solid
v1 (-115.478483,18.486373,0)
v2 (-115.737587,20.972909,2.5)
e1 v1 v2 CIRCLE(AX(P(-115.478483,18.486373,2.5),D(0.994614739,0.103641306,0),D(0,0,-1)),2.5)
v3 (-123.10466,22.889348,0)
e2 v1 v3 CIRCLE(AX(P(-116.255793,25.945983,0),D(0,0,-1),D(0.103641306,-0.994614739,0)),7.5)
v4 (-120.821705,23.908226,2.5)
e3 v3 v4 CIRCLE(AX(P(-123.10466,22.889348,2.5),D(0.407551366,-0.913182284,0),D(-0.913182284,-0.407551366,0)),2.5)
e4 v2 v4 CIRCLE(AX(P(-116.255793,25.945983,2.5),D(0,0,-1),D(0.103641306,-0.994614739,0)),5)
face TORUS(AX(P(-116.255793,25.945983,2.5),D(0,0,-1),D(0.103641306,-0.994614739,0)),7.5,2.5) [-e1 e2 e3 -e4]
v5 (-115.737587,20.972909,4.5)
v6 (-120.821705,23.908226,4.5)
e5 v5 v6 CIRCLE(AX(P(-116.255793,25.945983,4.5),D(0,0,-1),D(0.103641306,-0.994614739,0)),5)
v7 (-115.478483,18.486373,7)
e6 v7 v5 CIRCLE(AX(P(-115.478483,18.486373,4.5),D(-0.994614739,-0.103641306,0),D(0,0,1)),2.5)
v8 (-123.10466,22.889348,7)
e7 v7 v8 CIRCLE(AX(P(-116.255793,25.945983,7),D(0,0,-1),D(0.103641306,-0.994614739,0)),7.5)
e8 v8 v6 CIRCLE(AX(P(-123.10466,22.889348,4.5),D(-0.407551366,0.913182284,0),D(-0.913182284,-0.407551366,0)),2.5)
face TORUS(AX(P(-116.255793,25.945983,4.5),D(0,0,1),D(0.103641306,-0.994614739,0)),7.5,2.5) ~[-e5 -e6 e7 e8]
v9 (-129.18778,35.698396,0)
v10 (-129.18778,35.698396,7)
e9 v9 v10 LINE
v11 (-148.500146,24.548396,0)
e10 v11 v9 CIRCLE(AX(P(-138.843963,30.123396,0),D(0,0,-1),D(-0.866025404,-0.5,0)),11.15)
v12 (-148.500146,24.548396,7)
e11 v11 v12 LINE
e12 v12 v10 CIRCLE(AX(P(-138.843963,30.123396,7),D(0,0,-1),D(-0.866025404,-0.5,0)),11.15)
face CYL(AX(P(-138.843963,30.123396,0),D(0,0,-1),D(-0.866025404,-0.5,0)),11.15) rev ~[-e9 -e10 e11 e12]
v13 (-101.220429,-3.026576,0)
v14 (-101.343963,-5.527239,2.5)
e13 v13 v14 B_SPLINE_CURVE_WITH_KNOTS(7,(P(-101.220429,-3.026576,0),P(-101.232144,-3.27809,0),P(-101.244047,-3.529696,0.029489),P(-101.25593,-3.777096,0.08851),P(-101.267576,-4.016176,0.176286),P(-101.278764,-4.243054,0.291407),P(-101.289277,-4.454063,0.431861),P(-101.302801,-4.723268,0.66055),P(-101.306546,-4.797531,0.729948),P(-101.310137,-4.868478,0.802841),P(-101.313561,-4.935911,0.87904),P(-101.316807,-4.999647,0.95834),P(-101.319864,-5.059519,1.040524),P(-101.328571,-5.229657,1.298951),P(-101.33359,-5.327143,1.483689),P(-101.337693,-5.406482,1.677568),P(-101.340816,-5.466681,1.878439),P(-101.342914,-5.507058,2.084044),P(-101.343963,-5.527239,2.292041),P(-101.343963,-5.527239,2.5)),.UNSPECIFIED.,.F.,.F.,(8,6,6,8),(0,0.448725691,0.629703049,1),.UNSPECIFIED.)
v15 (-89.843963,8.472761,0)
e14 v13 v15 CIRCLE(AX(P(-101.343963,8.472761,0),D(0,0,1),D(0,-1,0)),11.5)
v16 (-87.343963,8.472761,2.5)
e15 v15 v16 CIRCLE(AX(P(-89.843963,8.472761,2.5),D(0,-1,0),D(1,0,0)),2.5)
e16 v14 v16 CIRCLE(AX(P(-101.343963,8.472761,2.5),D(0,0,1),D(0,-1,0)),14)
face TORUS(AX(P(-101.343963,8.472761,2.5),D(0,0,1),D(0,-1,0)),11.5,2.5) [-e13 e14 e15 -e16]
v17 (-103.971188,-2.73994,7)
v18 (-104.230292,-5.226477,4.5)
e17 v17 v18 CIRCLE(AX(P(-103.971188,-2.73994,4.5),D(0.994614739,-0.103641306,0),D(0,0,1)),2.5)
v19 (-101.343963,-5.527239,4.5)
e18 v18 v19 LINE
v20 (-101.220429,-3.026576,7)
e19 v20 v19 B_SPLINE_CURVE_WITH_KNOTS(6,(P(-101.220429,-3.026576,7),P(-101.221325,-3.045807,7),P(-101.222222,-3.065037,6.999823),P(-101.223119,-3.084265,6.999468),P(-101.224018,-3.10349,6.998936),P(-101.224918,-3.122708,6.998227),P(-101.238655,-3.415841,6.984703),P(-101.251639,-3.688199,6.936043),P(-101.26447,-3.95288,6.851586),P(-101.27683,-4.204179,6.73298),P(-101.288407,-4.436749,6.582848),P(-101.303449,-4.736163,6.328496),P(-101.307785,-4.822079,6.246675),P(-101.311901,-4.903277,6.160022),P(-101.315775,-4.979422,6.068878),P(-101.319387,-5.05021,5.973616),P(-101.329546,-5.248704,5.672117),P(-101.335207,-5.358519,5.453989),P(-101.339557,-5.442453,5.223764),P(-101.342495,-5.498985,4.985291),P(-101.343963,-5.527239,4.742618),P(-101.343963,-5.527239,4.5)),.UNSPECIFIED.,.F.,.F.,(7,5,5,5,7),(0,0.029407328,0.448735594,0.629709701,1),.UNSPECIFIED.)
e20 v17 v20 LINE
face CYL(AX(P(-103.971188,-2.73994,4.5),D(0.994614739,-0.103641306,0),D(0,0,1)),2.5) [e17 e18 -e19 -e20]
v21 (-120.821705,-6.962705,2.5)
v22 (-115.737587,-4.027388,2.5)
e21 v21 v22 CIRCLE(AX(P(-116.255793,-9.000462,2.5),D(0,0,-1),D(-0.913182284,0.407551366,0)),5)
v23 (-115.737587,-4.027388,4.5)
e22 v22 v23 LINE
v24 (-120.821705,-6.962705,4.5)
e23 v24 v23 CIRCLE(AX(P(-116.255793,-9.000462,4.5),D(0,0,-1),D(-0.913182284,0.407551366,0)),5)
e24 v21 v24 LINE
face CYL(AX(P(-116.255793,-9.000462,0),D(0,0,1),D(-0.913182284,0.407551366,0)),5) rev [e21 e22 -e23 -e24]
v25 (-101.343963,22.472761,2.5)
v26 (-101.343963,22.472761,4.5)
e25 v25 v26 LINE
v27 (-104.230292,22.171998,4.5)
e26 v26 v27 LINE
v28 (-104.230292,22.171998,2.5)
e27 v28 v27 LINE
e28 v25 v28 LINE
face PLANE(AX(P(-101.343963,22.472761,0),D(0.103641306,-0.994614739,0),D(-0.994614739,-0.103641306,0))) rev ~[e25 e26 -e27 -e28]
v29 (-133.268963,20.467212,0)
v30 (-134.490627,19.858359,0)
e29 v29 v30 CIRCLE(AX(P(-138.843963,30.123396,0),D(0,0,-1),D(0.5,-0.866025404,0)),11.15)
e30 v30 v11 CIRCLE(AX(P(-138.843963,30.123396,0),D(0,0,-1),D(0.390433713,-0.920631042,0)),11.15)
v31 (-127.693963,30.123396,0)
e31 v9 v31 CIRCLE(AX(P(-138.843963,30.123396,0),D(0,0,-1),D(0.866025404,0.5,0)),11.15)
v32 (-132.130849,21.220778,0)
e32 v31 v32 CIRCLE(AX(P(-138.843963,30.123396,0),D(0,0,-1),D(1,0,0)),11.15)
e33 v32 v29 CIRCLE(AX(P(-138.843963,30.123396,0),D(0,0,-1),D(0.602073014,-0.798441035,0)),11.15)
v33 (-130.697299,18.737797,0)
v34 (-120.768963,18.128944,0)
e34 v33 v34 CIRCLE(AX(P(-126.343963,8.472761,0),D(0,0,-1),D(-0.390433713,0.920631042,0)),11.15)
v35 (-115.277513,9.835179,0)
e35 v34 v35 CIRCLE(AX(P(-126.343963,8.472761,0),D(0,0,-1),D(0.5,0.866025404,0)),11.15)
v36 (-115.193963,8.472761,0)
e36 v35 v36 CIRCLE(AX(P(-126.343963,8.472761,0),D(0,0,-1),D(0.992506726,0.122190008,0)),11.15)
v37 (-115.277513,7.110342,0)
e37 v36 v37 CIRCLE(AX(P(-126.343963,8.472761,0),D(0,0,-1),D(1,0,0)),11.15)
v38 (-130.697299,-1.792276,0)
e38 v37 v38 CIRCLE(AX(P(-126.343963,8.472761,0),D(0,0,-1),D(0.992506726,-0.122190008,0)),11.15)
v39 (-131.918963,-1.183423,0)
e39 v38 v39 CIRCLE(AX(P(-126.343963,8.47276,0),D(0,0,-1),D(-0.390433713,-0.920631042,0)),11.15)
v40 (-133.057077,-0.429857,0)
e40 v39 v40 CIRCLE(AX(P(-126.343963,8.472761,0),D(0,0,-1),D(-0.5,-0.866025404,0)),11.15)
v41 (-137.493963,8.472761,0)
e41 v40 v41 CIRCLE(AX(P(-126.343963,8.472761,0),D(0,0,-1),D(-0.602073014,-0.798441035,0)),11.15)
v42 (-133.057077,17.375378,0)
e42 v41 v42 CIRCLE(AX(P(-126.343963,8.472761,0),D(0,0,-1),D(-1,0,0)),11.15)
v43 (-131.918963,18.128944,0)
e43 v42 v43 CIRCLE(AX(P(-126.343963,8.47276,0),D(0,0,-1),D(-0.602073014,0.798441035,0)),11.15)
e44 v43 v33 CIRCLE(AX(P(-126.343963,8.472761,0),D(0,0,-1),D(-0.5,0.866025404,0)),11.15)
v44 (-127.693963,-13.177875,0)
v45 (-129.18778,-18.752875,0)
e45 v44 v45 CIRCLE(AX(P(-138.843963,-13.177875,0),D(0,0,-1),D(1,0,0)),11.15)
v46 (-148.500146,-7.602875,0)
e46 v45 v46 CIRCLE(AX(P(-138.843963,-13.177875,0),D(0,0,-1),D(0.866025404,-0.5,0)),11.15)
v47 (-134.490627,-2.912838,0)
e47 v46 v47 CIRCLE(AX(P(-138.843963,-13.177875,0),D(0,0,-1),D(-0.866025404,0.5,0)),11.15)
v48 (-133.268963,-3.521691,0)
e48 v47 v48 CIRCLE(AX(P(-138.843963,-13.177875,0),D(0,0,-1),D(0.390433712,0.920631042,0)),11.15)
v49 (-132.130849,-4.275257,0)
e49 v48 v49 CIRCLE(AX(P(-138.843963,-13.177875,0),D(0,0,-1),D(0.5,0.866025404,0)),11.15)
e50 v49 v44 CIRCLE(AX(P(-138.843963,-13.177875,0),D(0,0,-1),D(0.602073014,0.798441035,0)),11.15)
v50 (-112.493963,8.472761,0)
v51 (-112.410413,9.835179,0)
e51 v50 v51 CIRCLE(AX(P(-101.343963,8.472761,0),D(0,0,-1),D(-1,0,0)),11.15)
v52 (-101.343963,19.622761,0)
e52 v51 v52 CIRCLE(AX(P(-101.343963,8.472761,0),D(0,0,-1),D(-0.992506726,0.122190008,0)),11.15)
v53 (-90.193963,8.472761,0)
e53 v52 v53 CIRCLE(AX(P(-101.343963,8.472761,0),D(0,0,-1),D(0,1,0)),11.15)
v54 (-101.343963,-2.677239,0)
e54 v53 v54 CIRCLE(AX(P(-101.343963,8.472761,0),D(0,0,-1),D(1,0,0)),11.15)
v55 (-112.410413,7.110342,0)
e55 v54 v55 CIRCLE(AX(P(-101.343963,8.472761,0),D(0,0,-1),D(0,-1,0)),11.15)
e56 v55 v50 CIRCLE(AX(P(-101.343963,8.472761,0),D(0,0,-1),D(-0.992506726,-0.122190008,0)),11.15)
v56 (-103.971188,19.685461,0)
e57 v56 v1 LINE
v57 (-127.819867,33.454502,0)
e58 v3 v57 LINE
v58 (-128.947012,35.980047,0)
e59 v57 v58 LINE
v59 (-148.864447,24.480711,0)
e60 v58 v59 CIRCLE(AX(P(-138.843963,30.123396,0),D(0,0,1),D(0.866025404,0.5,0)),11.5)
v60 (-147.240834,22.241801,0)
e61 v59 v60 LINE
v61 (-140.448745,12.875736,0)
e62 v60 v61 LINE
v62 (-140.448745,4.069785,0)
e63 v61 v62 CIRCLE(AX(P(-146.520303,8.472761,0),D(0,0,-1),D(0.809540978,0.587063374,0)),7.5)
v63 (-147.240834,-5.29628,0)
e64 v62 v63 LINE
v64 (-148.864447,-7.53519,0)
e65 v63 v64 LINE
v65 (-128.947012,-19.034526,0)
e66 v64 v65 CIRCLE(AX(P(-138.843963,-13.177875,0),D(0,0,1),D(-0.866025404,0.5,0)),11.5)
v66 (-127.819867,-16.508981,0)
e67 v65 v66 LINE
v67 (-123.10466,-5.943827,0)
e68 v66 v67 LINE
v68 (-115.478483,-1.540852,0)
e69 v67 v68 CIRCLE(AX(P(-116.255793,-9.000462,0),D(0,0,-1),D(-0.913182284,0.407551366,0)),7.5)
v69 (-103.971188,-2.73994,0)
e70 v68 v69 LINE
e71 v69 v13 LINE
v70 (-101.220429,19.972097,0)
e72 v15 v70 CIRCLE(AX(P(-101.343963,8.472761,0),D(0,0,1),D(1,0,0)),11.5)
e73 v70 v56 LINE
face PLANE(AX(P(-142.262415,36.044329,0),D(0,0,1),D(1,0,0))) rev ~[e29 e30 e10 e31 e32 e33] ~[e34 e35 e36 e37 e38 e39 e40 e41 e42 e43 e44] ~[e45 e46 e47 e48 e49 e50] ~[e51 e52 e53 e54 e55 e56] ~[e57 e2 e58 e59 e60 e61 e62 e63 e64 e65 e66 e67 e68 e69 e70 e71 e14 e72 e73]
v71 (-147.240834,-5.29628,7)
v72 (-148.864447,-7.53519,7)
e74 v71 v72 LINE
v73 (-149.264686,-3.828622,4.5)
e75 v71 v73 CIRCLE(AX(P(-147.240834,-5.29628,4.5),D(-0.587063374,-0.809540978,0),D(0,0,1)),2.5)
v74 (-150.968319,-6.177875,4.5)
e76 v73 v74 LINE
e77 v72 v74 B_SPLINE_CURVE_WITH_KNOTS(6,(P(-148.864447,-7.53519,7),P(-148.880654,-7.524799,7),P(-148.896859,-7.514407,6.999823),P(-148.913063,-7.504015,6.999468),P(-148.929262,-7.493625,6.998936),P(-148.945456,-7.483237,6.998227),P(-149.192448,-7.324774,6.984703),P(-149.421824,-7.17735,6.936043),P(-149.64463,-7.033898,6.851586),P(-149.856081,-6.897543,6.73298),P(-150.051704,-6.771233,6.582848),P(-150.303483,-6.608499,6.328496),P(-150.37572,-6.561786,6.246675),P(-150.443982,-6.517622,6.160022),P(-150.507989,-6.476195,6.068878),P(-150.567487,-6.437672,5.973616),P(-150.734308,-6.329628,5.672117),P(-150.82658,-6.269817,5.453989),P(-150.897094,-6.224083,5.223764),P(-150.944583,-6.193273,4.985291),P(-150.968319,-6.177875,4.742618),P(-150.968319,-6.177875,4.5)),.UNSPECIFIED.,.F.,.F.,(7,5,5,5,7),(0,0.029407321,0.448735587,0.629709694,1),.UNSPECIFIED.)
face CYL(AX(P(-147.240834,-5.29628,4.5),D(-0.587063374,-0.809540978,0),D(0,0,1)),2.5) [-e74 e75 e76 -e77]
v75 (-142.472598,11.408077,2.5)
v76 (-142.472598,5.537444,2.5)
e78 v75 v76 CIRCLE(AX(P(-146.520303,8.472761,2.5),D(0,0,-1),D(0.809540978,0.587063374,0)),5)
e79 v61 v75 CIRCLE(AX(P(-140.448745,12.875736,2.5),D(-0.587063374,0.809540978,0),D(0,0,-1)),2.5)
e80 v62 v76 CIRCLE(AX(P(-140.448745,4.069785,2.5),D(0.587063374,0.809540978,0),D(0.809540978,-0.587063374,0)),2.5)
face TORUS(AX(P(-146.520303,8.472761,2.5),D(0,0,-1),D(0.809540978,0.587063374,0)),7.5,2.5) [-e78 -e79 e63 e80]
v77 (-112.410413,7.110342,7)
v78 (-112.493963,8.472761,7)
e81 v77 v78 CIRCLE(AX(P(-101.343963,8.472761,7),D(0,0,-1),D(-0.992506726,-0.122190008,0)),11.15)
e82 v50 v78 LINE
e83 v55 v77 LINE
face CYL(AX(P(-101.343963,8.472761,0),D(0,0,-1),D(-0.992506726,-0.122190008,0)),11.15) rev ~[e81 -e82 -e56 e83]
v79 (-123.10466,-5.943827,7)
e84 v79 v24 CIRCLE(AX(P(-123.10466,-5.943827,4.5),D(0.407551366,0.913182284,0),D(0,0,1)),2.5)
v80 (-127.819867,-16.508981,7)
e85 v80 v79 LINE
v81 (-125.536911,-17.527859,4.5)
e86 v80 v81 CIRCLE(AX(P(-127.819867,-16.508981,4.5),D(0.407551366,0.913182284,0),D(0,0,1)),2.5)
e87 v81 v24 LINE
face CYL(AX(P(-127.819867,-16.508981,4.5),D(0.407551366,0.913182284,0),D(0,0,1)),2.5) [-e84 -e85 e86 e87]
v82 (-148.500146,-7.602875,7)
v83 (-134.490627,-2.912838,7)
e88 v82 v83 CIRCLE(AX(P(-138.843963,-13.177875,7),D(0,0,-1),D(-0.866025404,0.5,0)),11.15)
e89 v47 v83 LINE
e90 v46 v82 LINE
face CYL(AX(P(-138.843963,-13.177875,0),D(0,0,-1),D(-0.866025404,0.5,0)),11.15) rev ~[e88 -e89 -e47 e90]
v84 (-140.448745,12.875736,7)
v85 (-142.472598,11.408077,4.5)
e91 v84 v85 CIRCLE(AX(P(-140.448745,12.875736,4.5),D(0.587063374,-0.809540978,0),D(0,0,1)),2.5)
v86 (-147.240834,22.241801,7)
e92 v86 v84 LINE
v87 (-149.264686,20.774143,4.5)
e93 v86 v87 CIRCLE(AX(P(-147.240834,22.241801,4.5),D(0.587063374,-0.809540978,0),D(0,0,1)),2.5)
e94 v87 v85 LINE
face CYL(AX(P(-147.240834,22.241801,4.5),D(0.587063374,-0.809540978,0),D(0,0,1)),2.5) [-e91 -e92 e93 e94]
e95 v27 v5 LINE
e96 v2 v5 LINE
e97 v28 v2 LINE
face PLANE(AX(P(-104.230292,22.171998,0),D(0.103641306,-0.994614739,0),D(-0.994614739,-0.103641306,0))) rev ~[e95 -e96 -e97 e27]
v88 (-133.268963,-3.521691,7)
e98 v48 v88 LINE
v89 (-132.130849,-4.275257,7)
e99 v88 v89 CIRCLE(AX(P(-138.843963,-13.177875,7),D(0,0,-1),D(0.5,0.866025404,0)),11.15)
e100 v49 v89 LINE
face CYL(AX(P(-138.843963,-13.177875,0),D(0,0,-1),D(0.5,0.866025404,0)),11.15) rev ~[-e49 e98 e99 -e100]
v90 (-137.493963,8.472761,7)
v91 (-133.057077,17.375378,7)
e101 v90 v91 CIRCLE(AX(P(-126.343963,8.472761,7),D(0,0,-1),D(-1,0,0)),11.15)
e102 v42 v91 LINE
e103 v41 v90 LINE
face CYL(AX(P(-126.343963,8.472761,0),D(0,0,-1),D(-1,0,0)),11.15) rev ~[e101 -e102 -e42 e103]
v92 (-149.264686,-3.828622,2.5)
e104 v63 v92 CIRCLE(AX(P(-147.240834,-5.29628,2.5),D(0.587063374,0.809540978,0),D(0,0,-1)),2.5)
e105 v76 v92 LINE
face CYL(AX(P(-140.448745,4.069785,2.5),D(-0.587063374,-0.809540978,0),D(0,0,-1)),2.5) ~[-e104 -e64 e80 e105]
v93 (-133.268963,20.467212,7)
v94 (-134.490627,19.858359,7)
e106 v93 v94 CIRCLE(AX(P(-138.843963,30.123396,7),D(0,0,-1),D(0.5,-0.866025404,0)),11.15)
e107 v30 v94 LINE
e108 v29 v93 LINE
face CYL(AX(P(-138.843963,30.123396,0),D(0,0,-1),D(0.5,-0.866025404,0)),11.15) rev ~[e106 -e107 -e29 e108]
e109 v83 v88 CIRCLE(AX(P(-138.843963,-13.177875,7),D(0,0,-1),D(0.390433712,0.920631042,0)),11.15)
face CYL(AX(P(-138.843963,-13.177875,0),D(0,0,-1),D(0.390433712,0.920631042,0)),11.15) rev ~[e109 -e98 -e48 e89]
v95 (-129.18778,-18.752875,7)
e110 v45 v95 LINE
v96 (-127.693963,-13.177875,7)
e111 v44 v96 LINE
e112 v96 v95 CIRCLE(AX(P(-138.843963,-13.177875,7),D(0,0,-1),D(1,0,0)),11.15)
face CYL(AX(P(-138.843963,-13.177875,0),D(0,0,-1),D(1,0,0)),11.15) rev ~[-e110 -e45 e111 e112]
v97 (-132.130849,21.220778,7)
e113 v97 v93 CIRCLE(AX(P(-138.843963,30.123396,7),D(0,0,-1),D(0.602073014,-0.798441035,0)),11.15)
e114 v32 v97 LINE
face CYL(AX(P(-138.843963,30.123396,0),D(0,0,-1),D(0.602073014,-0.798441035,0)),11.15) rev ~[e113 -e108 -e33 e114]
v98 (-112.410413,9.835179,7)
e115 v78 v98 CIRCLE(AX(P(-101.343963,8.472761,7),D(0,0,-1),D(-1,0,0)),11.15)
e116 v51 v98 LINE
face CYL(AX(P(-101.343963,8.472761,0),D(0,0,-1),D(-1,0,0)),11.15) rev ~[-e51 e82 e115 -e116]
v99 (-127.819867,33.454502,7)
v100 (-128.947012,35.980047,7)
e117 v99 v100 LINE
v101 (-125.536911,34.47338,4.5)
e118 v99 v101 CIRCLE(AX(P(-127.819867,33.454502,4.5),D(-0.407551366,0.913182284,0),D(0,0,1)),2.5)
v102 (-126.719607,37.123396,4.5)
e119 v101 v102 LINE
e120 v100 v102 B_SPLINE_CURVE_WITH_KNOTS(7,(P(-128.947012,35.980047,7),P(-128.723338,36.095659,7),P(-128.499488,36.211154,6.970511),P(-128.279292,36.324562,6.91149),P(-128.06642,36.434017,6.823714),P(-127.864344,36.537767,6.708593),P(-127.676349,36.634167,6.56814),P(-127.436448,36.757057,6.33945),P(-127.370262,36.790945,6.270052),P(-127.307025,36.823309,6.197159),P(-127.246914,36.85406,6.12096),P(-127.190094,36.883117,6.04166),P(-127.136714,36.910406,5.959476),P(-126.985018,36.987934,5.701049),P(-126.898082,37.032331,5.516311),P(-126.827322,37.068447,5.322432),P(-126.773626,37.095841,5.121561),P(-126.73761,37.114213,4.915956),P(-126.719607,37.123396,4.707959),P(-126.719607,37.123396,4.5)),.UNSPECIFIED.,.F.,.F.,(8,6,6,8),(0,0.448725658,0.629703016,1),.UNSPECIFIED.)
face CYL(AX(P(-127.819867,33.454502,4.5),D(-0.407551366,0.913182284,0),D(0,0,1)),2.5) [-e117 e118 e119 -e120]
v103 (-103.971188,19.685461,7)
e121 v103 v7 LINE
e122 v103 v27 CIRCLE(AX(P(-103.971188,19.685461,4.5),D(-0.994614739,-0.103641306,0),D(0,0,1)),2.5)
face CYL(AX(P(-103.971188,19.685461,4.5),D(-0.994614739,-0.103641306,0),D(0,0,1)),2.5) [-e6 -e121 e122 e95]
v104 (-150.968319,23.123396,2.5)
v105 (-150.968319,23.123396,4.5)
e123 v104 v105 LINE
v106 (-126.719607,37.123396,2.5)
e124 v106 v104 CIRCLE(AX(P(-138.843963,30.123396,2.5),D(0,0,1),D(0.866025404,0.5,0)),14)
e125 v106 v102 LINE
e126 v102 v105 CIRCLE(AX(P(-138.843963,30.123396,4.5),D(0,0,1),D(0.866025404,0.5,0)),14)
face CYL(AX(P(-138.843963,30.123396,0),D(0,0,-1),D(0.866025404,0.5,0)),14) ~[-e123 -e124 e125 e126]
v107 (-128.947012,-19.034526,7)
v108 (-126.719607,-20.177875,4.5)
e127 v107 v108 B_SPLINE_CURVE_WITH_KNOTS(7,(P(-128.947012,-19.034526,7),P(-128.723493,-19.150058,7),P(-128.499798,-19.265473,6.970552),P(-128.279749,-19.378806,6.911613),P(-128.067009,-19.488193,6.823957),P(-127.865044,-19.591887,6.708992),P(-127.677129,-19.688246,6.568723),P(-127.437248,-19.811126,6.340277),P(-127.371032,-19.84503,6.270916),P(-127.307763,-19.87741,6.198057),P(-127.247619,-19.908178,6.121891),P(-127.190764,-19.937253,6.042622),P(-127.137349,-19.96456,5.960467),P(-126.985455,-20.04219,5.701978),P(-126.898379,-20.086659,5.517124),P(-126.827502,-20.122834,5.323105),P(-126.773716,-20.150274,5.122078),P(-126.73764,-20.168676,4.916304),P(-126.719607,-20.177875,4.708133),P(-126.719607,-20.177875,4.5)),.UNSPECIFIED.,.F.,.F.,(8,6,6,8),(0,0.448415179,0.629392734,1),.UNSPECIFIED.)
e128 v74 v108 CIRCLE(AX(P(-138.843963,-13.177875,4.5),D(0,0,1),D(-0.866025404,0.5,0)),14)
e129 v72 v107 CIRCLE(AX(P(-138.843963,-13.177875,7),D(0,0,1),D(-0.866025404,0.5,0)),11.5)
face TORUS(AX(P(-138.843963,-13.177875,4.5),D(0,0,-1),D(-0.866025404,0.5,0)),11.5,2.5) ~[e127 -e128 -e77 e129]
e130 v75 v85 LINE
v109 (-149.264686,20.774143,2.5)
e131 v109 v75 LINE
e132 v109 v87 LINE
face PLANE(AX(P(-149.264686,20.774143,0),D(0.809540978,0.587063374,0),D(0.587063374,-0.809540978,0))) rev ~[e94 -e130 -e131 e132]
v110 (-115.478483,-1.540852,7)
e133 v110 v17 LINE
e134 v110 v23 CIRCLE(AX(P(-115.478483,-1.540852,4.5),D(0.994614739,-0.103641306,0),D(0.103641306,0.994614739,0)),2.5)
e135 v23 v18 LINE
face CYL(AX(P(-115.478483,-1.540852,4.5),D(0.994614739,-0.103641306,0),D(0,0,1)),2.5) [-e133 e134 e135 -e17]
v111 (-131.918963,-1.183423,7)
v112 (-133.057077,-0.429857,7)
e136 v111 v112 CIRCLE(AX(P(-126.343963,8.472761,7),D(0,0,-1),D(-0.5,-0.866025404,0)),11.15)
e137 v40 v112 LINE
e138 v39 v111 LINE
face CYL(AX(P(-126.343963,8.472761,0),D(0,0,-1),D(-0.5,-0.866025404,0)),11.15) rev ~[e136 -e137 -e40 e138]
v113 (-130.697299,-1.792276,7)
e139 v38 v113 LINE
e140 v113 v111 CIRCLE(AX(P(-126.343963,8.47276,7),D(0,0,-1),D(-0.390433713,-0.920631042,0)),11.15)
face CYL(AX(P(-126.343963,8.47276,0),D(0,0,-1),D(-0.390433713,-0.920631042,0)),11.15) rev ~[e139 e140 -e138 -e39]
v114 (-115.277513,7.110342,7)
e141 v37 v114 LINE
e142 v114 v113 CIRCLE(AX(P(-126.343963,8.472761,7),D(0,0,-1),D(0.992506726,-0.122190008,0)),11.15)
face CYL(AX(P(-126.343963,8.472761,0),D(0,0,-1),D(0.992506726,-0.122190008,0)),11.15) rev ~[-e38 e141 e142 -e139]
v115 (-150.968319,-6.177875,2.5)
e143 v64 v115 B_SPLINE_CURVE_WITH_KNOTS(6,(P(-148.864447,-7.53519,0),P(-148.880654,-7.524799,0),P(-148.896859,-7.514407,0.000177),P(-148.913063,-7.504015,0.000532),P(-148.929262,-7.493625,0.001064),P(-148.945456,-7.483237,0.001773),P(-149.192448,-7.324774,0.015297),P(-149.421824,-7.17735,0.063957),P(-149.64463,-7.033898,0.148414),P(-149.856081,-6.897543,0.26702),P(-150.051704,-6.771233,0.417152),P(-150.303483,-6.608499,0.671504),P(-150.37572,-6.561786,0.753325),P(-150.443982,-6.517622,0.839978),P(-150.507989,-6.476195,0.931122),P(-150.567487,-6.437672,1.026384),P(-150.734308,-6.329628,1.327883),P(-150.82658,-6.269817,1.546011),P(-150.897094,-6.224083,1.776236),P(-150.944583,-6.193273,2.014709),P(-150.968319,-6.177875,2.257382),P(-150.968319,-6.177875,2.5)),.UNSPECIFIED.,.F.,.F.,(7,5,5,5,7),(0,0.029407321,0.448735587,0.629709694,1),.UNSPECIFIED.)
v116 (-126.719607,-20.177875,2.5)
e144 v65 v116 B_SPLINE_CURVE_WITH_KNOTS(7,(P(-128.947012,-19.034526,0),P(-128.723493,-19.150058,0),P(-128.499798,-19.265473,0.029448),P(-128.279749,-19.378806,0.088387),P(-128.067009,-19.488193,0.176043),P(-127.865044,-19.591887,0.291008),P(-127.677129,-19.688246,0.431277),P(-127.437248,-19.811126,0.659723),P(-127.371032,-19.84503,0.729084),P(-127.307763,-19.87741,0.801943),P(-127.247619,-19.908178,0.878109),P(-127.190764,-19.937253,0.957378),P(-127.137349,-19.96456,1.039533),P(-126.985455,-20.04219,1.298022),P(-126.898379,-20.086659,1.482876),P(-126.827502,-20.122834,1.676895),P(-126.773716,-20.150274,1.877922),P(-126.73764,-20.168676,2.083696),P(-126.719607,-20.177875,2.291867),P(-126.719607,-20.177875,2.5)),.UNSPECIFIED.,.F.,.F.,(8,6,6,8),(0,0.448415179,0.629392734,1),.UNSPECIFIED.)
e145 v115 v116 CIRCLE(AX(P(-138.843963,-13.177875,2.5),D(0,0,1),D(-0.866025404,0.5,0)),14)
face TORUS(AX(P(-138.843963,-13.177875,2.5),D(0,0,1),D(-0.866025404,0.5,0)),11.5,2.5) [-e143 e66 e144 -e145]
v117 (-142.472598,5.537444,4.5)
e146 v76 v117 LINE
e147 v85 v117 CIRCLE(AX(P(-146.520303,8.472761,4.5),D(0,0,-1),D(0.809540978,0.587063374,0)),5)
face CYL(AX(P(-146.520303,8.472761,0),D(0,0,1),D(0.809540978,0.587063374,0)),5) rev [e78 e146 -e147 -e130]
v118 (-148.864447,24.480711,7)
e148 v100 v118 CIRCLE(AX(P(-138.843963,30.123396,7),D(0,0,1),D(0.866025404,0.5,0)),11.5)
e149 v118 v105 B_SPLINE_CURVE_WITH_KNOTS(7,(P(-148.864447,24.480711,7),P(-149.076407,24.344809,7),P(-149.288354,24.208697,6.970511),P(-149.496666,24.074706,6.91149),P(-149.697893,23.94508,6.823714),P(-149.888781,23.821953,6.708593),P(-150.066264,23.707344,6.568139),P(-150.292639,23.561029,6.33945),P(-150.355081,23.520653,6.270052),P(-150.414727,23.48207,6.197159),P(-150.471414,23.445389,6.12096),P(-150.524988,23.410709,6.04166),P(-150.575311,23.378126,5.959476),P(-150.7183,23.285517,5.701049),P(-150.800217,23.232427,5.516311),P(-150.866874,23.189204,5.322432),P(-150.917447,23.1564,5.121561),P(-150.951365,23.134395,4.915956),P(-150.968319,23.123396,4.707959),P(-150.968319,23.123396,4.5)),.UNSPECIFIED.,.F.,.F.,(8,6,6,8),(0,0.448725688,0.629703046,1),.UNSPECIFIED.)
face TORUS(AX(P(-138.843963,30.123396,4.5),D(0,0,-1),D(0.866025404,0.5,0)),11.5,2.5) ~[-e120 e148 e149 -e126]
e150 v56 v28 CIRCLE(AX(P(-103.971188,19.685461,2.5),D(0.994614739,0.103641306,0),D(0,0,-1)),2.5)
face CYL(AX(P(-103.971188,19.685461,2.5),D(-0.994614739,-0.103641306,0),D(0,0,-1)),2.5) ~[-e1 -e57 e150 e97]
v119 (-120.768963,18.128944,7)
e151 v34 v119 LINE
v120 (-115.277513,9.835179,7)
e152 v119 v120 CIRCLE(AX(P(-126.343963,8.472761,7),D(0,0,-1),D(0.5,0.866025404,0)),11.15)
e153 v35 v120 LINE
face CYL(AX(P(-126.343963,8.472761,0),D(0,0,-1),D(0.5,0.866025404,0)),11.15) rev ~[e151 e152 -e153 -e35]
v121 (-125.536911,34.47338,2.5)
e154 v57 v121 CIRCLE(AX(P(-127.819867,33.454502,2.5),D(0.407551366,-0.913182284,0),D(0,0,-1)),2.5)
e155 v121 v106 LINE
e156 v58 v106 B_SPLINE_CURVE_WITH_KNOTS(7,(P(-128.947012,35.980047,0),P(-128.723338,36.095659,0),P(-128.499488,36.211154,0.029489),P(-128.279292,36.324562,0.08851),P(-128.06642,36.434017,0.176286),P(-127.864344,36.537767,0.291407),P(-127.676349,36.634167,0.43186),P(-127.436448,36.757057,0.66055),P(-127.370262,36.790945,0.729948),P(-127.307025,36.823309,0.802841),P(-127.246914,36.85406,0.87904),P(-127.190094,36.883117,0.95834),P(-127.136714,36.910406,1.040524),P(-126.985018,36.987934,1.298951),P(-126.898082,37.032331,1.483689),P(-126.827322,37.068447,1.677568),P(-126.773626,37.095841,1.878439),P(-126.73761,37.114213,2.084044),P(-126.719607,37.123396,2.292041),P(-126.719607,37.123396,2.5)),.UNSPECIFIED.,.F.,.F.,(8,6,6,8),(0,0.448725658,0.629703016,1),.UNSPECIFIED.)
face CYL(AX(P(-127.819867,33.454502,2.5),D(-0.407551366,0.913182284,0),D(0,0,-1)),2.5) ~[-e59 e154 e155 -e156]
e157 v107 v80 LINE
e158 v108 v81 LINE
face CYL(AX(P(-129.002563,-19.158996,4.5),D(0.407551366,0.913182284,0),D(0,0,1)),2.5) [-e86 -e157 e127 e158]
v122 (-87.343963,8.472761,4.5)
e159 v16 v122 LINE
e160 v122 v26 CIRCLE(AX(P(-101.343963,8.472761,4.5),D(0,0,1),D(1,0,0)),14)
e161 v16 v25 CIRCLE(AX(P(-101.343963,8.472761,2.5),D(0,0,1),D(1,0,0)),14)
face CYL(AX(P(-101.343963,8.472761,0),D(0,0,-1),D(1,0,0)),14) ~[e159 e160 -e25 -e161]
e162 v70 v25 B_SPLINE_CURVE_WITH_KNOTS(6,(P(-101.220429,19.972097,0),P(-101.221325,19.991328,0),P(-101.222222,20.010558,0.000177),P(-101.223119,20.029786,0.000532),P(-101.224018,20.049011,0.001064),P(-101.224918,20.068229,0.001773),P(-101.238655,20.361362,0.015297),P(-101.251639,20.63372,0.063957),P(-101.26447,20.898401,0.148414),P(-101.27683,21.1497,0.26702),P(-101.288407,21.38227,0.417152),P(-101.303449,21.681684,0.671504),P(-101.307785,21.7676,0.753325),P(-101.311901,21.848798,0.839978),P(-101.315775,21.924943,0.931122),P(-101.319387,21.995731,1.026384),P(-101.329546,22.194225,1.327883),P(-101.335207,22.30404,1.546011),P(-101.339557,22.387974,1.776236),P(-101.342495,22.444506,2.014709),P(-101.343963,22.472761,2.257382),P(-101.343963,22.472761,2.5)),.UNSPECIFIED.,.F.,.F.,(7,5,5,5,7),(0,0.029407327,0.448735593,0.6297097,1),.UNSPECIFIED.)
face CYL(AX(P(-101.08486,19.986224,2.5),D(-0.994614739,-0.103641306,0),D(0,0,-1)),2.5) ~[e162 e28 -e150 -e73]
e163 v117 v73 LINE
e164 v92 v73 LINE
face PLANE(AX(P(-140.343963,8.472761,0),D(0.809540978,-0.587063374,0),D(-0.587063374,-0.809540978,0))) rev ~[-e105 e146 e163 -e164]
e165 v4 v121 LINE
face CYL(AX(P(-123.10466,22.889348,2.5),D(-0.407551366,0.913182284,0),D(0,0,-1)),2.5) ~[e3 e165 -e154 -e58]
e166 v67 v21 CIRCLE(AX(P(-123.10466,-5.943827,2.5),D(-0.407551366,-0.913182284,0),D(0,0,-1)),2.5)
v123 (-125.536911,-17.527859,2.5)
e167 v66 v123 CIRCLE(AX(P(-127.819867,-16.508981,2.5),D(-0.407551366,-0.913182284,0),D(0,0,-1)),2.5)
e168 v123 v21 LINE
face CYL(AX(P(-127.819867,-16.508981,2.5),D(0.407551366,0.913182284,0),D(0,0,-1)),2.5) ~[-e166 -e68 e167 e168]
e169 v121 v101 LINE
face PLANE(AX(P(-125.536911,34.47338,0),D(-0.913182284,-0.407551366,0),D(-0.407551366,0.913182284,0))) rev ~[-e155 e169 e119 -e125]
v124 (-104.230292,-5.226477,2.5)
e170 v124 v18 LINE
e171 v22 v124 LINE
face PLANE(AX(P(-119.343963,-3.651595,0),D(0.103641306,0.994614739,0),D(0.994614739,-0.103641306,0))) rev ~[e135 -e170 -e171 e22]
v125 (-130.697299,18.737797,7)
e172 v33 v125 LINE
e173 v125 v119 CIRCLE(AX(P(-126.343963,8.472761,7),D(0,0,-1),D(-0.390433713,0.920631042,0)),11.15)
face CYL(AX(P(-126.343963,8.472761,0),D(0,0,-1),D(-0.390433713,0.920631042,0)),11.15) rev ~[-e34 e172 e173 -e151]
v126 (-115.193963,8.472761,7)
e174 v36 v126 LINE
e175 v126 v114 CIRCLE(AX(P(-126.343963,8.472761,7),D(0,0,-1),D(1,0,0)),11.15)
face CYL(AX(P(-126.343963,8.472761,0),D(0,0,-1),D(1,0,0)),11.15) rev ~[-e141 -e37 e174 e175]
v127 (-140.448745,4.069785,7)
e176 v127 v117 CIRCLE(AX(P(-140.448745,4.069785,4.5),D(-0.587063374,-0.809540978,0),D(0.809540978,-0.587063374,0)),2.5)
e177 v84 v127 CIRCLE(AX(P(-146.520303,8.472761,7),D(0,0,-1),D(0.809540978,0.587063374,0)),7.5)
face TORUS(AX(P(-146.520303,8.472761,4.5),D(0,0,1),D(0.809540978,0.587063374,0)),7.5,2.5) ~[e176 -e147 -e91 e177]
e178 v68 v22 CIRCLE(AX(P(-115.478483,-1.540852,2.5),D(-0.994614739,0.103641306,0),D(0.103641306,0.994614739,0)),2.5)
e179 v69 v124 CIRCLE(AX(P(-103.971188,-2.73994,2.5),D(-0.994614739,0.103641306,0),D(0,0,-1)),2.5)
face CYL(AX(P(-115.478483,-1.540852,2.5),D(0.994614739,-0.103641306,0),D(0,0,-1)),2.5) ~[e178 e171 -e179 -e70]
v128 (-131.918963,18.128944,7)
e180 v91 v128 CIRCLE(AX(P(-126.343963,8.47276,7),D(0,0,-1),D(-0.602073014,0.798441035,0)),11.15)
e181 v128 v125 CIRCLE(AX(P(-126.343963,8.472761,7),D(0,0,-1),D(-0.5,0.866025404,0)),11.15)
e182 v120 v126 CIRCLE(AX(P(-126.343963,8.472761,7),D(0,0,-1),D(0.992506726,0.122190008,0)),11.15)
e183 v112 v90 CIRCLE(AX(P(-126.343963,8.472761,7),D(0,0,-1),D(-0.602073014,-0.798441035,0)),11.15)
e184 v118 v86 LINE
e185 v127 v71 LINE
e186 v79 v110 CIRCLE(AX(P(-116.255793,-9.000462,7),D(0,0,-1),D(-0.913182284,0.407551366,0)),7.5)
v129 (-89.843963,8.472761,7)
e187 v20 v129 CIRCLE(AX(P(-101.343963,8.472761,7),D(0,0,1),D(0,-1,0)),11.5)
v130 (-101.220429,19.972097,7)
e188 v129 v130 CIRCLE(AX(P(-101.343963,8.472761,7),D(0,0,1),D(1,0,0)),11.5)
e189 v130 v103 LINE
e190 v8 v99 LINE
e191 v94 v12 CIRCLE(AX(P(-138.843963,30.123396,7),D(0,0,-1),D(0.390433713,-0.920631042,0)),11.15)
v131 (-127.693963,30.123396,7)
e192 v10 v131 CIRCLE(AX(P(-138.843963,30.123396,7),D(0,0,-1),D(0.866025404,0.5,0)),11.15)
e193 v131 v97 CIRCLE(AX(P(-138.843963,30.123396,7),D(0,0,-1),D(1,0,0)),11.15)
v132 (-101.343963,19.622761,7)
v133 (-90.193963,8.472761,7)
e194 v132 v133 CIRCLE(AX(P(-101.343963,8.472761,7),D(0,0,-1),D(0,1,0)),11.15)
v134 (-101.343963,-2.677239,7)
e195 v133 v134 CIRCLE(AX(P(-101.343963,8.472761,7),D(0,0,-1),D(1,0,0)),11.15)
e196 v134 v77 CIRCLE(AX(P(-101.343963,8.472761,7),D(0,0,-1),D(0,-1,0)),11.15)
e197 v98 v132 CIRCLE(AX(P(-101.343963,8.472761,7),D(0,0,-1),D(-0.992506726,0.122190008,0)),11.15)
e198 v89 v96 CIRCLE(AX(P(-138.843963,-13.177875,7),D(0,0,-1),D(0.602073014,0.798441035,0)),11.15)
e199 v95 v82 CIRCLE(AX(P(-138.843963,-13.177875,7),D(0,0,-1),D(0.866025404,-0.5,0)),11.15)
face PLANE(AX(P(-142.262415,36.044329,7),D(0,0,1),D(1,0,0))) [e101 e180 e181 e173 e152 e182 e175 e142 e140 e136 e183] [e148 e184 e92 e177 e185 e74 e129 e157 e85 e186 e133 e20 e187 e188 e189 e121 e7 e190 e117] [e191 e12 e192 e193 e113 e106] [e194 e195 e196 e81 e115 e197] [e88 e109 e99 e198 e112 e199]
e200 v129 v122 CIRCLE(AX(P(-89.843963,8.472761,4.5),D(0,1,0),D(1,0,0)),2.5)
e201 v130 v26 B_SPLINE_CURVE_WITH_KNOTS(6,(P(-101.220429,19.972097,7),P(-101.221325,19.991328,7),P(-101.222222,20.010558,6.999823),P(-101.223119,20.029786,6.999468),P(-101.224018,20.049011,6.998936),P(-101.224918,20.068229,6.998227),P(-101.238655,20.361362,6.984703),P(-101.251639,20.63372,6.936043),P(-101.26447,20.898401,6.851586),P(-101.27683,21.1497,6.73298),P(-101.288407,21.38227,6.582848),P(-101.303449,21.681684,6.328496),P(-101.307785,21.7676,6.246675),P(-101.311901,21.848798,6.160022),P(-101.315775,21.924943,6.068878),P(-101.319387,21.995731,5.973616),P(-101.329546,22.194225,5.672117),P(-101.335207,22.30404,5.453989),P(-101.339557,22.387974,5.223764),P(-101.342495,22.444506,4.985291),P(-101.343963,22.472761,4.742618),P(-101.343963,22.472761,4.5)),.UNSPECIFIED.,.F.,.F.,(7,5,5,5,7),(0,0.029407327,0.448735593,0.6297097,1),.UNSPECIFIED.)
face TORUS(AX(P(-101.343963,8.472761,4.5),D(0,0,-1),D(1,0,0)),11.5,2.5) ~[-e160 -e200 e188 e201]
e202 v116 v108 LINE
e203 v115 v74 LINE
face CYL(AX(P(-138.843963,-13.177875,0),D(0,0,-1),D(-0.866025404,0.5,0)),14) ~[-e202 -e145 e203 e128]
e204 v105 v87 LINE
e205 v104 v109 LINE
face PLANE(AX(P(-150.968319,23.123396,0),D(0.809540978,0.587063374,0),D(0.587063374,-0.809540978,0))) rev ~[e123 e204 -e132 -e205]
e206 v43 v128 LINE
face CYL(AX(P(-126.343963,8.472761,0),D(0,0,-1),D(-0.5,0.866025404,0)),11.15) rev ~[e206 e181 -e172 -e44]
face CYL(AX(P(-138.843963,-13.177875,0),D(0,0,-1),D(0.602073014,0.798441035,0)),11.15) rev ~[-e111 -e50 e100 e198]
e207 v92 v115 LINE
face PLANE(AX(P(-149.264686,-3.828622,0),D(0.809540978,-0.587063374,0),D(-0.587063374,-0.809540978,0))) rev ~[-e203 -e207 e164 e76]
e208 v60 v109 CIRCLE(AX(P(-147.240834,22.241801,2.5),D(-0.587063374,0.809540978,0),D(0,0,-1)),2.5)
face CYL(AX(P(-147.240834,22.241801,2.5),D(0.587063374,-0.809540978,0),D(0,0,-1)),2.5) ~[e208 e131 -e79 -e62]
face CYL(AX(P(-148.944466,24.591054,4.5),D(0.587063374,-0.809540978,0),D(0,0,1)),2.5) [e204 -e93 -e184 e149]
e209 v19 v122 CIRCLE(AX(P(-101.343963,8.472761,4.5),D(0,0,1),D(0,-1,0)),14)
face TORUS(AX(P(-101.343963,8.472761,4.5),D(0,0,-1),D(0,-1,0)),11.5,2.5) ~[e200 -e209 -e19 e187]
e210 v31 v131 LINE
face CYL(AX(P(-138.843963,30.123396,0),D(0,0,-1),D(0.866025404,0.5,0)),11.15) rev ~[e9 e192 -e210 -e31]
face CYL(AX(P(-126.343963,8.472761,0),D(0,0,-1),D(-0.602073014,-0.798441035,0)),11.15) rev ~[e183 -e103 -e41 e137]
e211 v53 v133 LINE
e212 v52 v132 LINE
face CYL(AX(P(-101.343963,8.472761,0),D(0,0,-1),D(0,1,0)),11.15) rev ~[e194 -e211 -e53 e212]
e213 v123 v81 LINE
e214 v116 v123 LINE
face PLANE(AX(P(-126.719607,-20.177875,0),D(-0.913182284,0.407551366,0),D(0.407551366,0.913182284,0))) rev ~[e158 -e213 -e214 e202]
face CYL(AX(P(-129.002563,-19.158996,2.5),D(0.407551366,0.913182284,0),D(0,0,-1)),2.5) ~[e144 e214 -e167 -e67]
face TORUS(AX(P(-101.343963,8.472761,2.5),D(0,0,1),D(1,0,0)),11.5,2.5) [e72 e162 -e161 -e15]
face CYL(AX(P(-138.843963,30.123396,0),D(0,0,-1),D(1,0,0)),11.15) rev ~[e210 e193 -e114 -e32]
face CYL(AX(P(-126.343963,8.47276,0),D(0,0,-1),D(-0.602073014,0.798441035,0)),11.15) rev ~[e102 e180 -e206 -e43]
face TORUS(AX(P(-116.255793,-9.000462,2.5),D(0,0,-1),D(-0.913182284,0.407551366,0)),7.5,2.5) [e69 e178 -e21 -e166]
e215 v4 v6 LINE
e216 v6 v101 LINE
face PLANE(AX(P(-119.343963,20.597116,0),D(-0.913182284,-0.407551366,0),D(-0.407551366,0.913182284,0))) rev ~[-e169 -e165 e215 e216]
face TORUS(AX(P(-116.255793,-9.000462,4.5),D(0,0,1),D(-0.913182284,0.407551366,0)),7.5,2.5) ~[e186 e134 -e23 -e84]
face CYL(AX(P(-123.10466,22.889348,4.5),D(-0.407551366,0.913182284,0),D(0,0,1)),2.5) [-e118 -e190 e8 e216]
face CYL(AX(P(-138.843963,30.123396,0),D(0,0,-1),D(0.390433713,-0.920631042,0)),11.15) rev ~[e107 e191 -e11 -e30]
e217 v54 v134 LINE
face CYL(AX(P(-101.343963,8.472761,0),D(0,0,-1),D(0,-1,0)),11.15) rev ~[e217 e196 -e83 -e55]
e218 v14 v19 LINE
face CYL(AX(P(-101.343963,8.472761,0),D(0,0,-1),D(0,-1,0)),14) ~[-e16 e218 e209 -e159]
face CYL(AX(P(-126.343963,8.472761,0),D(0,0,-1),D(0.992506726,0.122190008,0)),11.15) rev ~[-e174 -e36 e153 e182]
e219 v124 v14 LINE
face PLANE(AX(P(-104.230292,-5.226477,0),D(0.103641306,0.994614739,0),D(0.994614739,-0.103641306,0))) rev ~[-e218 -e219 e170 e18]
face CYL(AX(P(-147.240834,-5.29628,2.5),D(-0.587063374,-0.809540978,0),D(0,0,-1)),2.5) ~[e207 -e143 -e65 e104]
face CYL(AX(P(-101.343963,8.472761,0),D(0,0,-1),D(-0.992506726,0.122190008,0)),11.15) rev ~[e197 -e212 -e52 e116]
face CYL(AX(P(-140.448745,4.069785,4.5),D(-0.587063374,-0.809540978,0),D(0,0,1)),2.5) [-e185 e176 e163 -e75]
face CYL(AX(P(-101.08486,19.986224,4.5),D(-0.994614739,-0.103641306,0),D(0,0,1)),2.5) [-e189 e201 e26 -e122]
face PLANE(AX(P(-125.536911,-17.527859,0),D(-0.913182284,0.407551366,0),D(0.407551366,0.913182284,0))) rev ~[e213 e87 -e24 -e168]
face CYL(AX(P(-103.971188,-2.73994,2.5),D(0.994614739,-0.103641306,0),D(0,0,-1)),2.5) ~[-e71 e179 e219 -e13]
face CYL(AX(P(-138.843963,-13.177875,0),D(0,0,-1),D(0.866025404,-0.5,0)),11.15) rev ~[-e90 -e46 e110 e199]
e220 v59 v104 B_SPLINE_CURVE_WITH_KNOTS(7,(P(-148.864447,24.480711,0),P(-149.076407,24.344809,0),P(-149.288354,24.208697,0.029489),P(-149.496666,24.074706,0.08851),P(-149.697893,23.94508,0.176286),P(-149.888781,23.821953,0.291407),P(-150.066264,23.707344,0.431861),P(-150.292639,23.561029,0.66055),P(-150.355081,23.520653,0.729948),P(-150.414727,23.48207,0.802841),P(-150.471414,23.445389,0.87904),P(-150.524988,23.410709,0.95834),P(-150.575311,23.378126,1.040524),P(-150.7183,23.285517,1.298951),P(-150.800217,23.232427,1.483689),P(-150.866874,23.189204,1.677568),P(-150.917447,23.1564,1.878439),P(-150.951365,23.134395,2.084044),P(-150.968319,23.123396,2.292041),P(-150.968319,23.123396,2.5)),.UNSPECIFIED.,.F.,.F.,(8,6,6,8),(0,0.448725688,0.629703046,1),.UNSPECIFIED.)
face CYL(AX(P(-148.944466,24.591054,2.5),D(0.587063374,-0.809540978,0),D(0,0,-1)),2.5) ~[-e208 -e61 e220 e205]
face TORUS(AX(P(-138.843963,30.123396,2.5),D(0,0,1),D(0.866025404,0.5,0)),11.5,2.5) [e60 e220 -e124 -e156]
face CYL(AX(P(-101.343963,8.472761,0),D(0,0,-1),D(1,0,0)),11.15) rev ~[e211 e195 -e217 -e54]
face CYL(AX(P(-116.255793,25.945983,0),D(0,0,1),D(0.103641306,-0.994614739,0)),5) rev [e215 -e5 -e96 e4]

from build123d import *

# Parameters (mm, degrees)
F1_DEPTH = 7
F2_R     = 5
F3_R     = 2.5


with BuildPart() as f1:
    # F0 (on Top) → F1 (new body)
    with BuildSketch(Plane.XY):
        with BuildLine():
            Line((-129.1877796705, 35.6983955948), (-126.7196072697, 37.1233955948))
            ThreePointArc((-126.7196072697, 37.1233955948), (-145.8439629227, 42.2477512478), (-150.9683185757, 23.1233955948))
            Line((-150.9683185757, 23.1233955948), (-148.5001461749, 24.5483955948))
            ThreePointArc((-148.5001461749, 24.5483955948), (-144.4189629227, 39.779578847), (-129.1877796705, 35.6983955948))
        make_face()
        with BuildLine():
            ThreePointArc((-132.1308488185, 21.220778057), (-129.6893499336, 22.0671853041), (-127.1338805057, 22.4504581008))
            ThreePointArc((-127.1338805057, 22.4504581008), (-125.428651636, 26.119719399), (-124.8439629227, 30.1233955948))
            ThreePointArc((-124.8439629227, 30.1233955948), (-125.0182852132, 32.325811512), (-125.5369109044, 34.4733802595))
            Line((-125.5369109044, 34.4733802595), (-126.7196072697, 37.1233955948))
            Line((-126.7196072697, 37.1233955948), (-129.1877796705, 35.6983955948))
            ThreePointArc((-129.1877796705, 35.6983955948), (-128.0738899596, 33.0092279477), (-127.6939629227, 30.1233955948))
            ThreePointArc((-127.6939629227, 30.1233955948), (-128.8646412458, 25.1499019667), (-132.1308488185, 21.220778057))
        make_face()
        with BuildLine():
            Line((-148.5001461749, 24.5483955948), (-150.9683185757, 23.1233955948))
            Line((-150.9683185757, 23.1233955948), (-149.2646861575, 20.7741428299))
            ThreePointArc((-149.2646861575, 20.7741428299), (-144.1865961475, 17.1829060282), (-138.0540453397, 16.1456979943))
            ThreePointArc((-138.0540453397, 16.1456979943), (-136.4443866472, 18.1671630391), (-134.4906270269, 19.8583594732))
            ThreePointArc((-134.4906270269, 19.8583594732), (-142.3836178814, 19.5501584948), (-148.5001461749, 24.5483955948))
        make_face()
        with BuildLine():
            Line((-131.9189629227, 18.1289437524), (-133.2689629227, 20.4672123426))
            ThreePointArc((-133.2689629227, 20.4672123426), (-133.8704692945, 20.144073918), (-134.4906270269, 19.8583594732))
            ThreePointArc((-134.4906270269, 19.8583594732), (-136.4443866472, 18.1671630391), (-138.0540453397, 16.1456979943))
            ThreePointArc((-138.0540453397, 16.1456979943), (-135.4985759118, 16.528970791), (-133.0570770269, 17.375378038))
            ThreePointArc((-133.0570770269, 17.375378038), (-132.4995621933, 17.7695931662), (-131.9189629227, 18.1289437524))
        make_face()
        with BuildLine():
            ThreePointArc((-130.6972988185, 18.7377966218), (-128.7435391981, 20.428993056), (-127.1338805057, 22.4504581008))
            ThreePointArc((-127.1338805057, 22.4504581008), (-129.6893499336, 22.0671853041), (-132.1308488185, 21.220778057))
            ThreePointArc((-132.1308488185, 21.220778057), (-132.6883636521, 20.8265629289), (-133.2689629227, 20.4672123426))
            Line((-133.2689629227, 20.4672123426), (-131.9189629227, 18.1289437524))
            ThreePointArc((-131.9189629227, 18.1289437524), (-131.3174565508, 18.4520821771), (-130.6972988185, 18.7377966218))
        make_face()
        with BuildLine():
            Line((-120.7689629227, 18.1289437524), (-119.3439629227, 20.5971161532))
            ThreePointArc((-119.3439629227, 20.5971161532), (-123.1035925735, 22.0925989721), (-127.1338805057, 22.4504581008))
            ThreePointArc((-127.1338805057, 22.4504581008), (-128.7435391981, 20.428993056), (-130.6972988185, 18.7377966218))
            ThreePointArc((-130.6972988185, 18.7377966218), (-125.6614739118, 19.601853399), (-120.7689629227, 18.1289437524))
        make_face()
        with BuildLine():
            Line((-140.3439629227, 8.4727605002), (-137.4939629227, 8.4727605002))
            ThreePointArc((-137.4939629227, 8.4727605002), (-136.3232845996, 13.4462541284), (-133.0570770269, 17.375378038))
            ThreePointArc((-133.0570770269, 17.375378038), (-135.4985759118, 16.528970791), (-138.0540453397, 16.1456979943))
            ThreePointArc((-138.0540453397, 16.1456979943), (-139.7592742094, 12.4764366961), (-140.3439629227, 8.4727605002))
        make_face()
        with BuildLine():
            ThreePointArc((-133.0570770269, -0.4298570376), (-136.3232845996, 3.4992668721), (-137.4939629227, 8.4727605002))
            Line((-137.4939629227, 8.4727605002), (-140.3439629227, 8.4727605002))
            ThreePointArc((-140.3439629227, 8.4727605002), (-139.7592742094, 4.4690843044), (-138.0540453397, 0.7998230062))
            ThreePointArc((-138.0540453397, 0.7998230062), (-135.4985759118, 0.4165502095), (-133.0570770269, -0.4298570376))
        make_face()
        with BuildLine():
            Line((-149.2646861575, -3.8286218294), (-150.9683185757, -6.1778745944))
            Line((-150.9683185757, -6.1778745944), (-148.5001461749, -7.6028745944))
            ThreePointArc((-148.5001461749, -7.6028745944), (-142.3836178814, -2.6046374944), (-134.4906270269, -2.9128384728))
            ThreePointArc((-134.4906270269, -2.9128384728), (-136.4443866472, -1.2216420386), (-138.0540453397, 0.7998230062))
            ThreePointArc((-138.0540453397, 0.7998230062), (-144.1865961475, -0.2373850277), (-149.2646861575, -3.8286218294))
        make_face()
        with BuildLine():
            ThreePointArc((-134.4906270269, -2.9128384728), (-133.8704692945, -3.1985529175), (-133.2689629227, -3.5216913422))
            Line((-133.2689629227, -3.5216913422), (-131.9189629227, -1.183422752))
            ThreePointArc((-131.9189629227, -1.183422752), (-132.4995621933, -0.8240721658), (-133.0570770269, -0.4298570376))
            ThreePointArc((-133.0570770269, -0.4298570376), (-135.4985759118, 0.4165502095), (-138.0540453397, 0.7998230062))
            ThreePointArc((-138.0540453397, 0.7998230062), (-136.4443866472, -1.2216420386), (-134.4906270269, -2.9128384728))
        make_face()
        with BuildLine():
            ThreePointArc((-132.1308488185, -4.2752570566), (-129.6893499336, -5.1216643036), (-127.1338805057, -5.5049371003))
            ThreePointArc((-127.1338805057, -5.5049371003), (-128.7435391981, -3.4834720556), (-130.6972988185, -1.7922756214))
            ThreePointArc((-130.6972988185, -1.7922756214), (-131.3174565508, -1.5065611767), (-131.9189629227, -1.183422752))
            Line((-131.9189629227, -1.183422752), (-133.2689629227, -3.5216913422))
            ThreePointArc((-133.2689629227, -3.5216913422), (-132.6883636521, -3.8810419284), (-132.1308488185, -4.2752570566))
        make_face()
        with BuildLine():
            ThreePointArc((-127.1338805057, -5.5049371003), (-123.1035925735, -5.1470779716), (-119.3439629227, -3.6515951528))
            Line((-119.3439629227, -3.6515951528), (-120.7689629227, -1.183422752))
            ThreePointArc((-120.7689629227, -1.183422752), (-125.6614739118, -2.6563323986), (-130.6972988185, -1.7922756214))
            ThreePointArc((-130.6972988185, -1.7922756214), (-128.7435391981, -3.4834720556), (-127.1338805057, -5.5049371003))
        make_face()
        with BuildLine():
            ThreePointArc((-119.3439629227, -3.6515951528), (-116.1690219852, -1.1434017758), (-113.8439629227, 2.1680003938))
            ThreePointArc((-113.8439629227, 2.1680003938), (-114.7897736581, 4.5727382352), (-115.2775129227, 7.1103419164))
            ThreePointArc((-115.2775129227, 7.1103419164), (-117.0471302567, 2.3171612296), (-120.7689629227, -1.183422752))
            Line((-120.7689629227, -1.183422752), (-119.3439629227, -3.6515951528))
        make_face()
        with BuildLine():
            ThreePointArc((-113.8439629227, 2.1680003938), (-112.8981521873, 4.5727382352), (-112.4104129227, 7.1103419164))
            ThreePointArc((-112.4104129227, 7.1103419164), (-112.4730558215, 7.7902714893), (-112.4939629227, 8.4727605002))
            Line((-112.4939629227, 8.4727605002), (-115.1939629227, 8.4727605002))
            ThreePointArc((-115.1939629227, 8.4727605002), (-115.2148700239, 7.7902714893), (-115.2775129227, 7.1103419164))
            ThreePointArc((-115.2775129227, 7.1103419164), (-114.7897736581, 4.5727382352), (-113.8439629227, 2.1680003938))
        make_face()
        with BuildLine():
            ThreePointArc((-112.4939629227, 8.4727605002), (-112.4730558215, 9.1552495111), (-112.4104129227, 9.835179084))
            ThreePointArc((-112.4104129227, 9.835179084), (-112.8981521873, 12.3727827653), (-113.8439629227, 14.7775206067))
            ThreePointArc((-113.8439629227, 14.7775206067), (-114.7897736581, 12.3727827653), (-115.2775129227, 9.835179084))
            ThreePointArc((-115.2775129227, 9.835179084), (-115.2148700239, 9.1552495111), (-115.1939629227, 8.4727605002))
            Line((-115.1939629227, 8.4727605002), (-112.4939629227, 8.4727605002))
        make_face()
        with BuildLine():
            ThreePointArc((-115.2775129227, 9.835179084), (-114.7897736581, 12.3727827653), (-113.8439629227, 14.7775206067))
            ThreePointArc((-113.8439629227, 14.7775206067), (-116.1690219852, 18.0889227763), (-119.3439629227, 20.5971161532))
            Line((-119.3439629227, 20.5971161532), (-120.7689629227, 18.1289437524))
            ThreePointArc((-120.7689629227, 18.1289437524), (-117.0471302567, 14.6283597709), (-115.2775129227, 9.835179084))
        make_face()
        with BuildLine():
            ThreePointArc((-124.8439629227, -13.1778745944), (-125.428651636, -9.1741983985), (-127.1338805057, -5.5049371003))
            ThreePointArc((-127.1338805057, -5.5049371003), (-129.6893499336, -5.1216643036), (-132.1308488185, -4.2752570566))
            ThreePointArc((-132.1308488185, -4.2752570566), (-128.8646412458, -8.2043809662), (-127.6939629227, -13.1778745944))
            ThreePointArc((-127.6939629227, -13.1778745944), (-128.0738899596, -16.0637069473), (-129.1877796705, -18.7528745944))
            Line((-129.1877796705, -18.7528745944), (-126.7196072697, -20.1778745944))
            Line((-126.7196072697, -20.1778745944), (-125.5369109044, -17.5278592591))
            ThreePointArc((-125.5369109044, -17.5278592591), (-125.0182852132, -15.3802905115), (-124.8439629227, -13.1778745944))
        make_face()
        with BuildLine():
            ThreePointArc((-150.9683185757, -6.1778745944), (-145.8439629227, -25.3022302474), (-126.7196072697, -20.1778745944))
            Line((-126.7196072697, -20.1778745944), (-129.1877796705, -18.7528745944))
            ThreePointArc((-129.1877796705, -18.7528745944), (-144.4189629227, -22.8340578466), (-148.5001461749, -7.6028745944))
            Line((-148.5001461749, -7.6028745944), (-150.9683185757, -6.1778745944))
        make_face()
        with BuildLine():
            ThreePointArc((-101.3439629227, -2.6772394998), (-108.7308273722, 0.1207108353), (-112.4104129227, 7.1103419164))
            ThreePointArc((-112.4104129227, 7.1103419164), (-112.8981521873, 4.5727382352), (-113.8439629227, 2.1680003938))
            ThreePointArc((-113.8439629227, 2.1680003938), (-109.8794390124, -2.6243403789), (-104.2302917061, -5.2264769294))
            Line((-104.2302917061, -5.2264769294), (-101.3439629227, -5.5272394998))
            Line((-101.3439629227, -5.5272394998), (-101.3439629227, -2.6772394998))
        make_face()
        with BuildLine():
            ThreePointArc((-113.8439629227, 14.7775206067), (-112.8981521873, 12.3727827653), (-112.4104129227, 9.835179084))
            ThreePointArc((-112.4104129227, 9.835179084), (-108.7308273722, 16.8248101651), (-101.3439629227, 19.6227605002))
            Line((-101.3439629227, 19.6227605002), (-101.3439629227, 22.4727605002))
            Line((-101.3439629227, 22.4727605002), (-104.2302917061, 22.1719979299))
            ThreePointArc((-104.2302917061, 22.1719979299), (-109.8794390124, 19.5698613793), (-113.8439629227, 14.7775206067))
        make_face()
        with BuildLine():
            Line((-101.3439629227, 22.4727605002), (-101.3439629227, 19.6227605002))
            ThreePointArc((-101.3439629227, 19.6227605002), (-93.4597223125, 16.3570011105), (-90.1939629227, 8.4727605002))
            ThreePointArc((-90.1939629227, 8.4727605002), (-93.4597223125, 0.58851989), (-101.3439629227, -2.6772394998))
            Line((-101.3439629227, -2.6772394998), (-101.3439629227, -5.5272394998))
            ThreePointArc((-101.3439629227, -5.5272394998), (-91.4444679861, -1.4267344364), (-87.3439629227, 8.4727605002))
            ThreePointArc((-87.3439629227, 8.4727605002), (-91.4444679861, 18.3722554368), (-101.3439629227, 22.4727605002))
        make_face()
        with BuildLine():
            Line((-149.2646861575, 20.7741428299), (-140.3439629227, 8.4727605002))
            ThreePointArc((-140.3439629227, 8.4727605002), (-139.7592742094, 12.4764366961), (-138.0540453397, 16.1456979943))
            ThreePointArc((-138.0540453397, 16.1456979943), (-144.1865961475, 17.1829060282), (-149.2646861575, 20.7741428299))
        make_face()
        with BuildLine():
            ThreePointArc((-138.0540453397, 0.7998230062), (-139.7592742094, 4.4690843044), (-140.3439629227, 8.4727605002))
            Line((-140.3439629227, 8.4727605002), (-149.2646861575, -3.8286218294))
            ThreePointArc((-149.2646861575, -3.8286218294), (-144.1865961475, -0.2373850277), (-138.0540453397, 0.7998230062))
        make_face()
        with BuildLine():
            Line((-125.5369109044, -17.5278592591), (-119.3439629227, -3.6515951528))
            ThreePointArc((-119.3439629227, -3.6515951528), (-123.1035925735, -5.1470779716), (-127.1338805057, -5.5049371003))
            ThreePointArc((-127.1338805057, -5.5049371003), (-125.428651636, -9.1741983985), (-124.8439629227, -13.1778745944))
            ThreePointArc((-124.8439629227, -13.1778745944), (-125.0182852132, -15.3802905115), (-125.5369109044, -17.5278592591))
        make_face()
        with BuildLine():
            ThreePointArc((-104.2302917061, -5.2264769294), (-109.8794390124, -2.6243403789), (-113.8439629227, 2.1680003938))
            ThreePointArc((-113.8439629227, 2.1680003938), (-116.1690219852, -1.1434017758), (-119.3439629227, -3.6515951528))
            Line((-119.3439629227, -3.6515951528), (-104.2302917061, -5.2264769294))
        make_face()
        with BuildLine():
            ThreePointArc((-119.3439629227, 20.5971161532), (-116.1690219852, 18.0889227763), (-113.8439629227, 14.7775206067))
            ThreePointArc((-113.8439629227, 14.7775206067), (-109.8794390124, 19.5698613793), (-104.2302917061, 22.1719979299))
            Line((-104.2302917061, 22.1719979299), (-119.3439629227, 20.5971161532))
        make_face()
        with BuildLine():
            ThreePointArc((-127.1338805057, 22.4504581008), (-123.1035925735, 22.0925989721), (-119.3439629227, 20.5971161532))
            Line((-119.3439629227, 20.5971161532), (-125.5369109044, 34.4733802595))
            ThreePointArc((-125.5369109044, 34.4733802595), (-125.0182852132, 32.325811512), (-124.8439629227, 30.1233955948))
            ThreePointArc((-124.8439629227, 30.1233955948), (-125.428651636, 26.119719399), (-127.1338805057, 22.4504581008))
        make_face()
    extrude(amount=F1_DEPTH)

    # F2
    f2_edges = [f1.edges().sort_by_distance(p)[0] for p in [
        (-119.343963, -3.651595, 3.5),
        (-140.343963, 8.472761, 3.5),
        (-119.343963, 20.597116, 3.5),
    ]]
    fillet(f2_edges, radius=F2_R)

    # F3
    f3_edges = [f1.edges().sort_by_distance(p)[0] for p in [
        (-123.770656, -13.57029, 7),
        (-145.843963, -25.30223, 7),
        (-146.720458, -0.320215, 7),
        (-141.520303, 8.472761, 7),
        (-146.720458, 17.265736, 7),
        (-145.843963, 42.247751, 7),
        (-123.770656, 30.515811, 7),
        (-87.343963, 8.472761, 7),
        (-108.540775, 21.722835, 0),
        (-145.843963, 42.247751, 0),
        (-141.520303, 8.472761, 0),
        (-145.843963, -25.30223, 0),
        (-123.770656, -13.57029, 0),
        (-87.343963, 8.472761, 0),
    ]]
    fillet(f3_edges, radius=F3_R)


solid = f1.part
